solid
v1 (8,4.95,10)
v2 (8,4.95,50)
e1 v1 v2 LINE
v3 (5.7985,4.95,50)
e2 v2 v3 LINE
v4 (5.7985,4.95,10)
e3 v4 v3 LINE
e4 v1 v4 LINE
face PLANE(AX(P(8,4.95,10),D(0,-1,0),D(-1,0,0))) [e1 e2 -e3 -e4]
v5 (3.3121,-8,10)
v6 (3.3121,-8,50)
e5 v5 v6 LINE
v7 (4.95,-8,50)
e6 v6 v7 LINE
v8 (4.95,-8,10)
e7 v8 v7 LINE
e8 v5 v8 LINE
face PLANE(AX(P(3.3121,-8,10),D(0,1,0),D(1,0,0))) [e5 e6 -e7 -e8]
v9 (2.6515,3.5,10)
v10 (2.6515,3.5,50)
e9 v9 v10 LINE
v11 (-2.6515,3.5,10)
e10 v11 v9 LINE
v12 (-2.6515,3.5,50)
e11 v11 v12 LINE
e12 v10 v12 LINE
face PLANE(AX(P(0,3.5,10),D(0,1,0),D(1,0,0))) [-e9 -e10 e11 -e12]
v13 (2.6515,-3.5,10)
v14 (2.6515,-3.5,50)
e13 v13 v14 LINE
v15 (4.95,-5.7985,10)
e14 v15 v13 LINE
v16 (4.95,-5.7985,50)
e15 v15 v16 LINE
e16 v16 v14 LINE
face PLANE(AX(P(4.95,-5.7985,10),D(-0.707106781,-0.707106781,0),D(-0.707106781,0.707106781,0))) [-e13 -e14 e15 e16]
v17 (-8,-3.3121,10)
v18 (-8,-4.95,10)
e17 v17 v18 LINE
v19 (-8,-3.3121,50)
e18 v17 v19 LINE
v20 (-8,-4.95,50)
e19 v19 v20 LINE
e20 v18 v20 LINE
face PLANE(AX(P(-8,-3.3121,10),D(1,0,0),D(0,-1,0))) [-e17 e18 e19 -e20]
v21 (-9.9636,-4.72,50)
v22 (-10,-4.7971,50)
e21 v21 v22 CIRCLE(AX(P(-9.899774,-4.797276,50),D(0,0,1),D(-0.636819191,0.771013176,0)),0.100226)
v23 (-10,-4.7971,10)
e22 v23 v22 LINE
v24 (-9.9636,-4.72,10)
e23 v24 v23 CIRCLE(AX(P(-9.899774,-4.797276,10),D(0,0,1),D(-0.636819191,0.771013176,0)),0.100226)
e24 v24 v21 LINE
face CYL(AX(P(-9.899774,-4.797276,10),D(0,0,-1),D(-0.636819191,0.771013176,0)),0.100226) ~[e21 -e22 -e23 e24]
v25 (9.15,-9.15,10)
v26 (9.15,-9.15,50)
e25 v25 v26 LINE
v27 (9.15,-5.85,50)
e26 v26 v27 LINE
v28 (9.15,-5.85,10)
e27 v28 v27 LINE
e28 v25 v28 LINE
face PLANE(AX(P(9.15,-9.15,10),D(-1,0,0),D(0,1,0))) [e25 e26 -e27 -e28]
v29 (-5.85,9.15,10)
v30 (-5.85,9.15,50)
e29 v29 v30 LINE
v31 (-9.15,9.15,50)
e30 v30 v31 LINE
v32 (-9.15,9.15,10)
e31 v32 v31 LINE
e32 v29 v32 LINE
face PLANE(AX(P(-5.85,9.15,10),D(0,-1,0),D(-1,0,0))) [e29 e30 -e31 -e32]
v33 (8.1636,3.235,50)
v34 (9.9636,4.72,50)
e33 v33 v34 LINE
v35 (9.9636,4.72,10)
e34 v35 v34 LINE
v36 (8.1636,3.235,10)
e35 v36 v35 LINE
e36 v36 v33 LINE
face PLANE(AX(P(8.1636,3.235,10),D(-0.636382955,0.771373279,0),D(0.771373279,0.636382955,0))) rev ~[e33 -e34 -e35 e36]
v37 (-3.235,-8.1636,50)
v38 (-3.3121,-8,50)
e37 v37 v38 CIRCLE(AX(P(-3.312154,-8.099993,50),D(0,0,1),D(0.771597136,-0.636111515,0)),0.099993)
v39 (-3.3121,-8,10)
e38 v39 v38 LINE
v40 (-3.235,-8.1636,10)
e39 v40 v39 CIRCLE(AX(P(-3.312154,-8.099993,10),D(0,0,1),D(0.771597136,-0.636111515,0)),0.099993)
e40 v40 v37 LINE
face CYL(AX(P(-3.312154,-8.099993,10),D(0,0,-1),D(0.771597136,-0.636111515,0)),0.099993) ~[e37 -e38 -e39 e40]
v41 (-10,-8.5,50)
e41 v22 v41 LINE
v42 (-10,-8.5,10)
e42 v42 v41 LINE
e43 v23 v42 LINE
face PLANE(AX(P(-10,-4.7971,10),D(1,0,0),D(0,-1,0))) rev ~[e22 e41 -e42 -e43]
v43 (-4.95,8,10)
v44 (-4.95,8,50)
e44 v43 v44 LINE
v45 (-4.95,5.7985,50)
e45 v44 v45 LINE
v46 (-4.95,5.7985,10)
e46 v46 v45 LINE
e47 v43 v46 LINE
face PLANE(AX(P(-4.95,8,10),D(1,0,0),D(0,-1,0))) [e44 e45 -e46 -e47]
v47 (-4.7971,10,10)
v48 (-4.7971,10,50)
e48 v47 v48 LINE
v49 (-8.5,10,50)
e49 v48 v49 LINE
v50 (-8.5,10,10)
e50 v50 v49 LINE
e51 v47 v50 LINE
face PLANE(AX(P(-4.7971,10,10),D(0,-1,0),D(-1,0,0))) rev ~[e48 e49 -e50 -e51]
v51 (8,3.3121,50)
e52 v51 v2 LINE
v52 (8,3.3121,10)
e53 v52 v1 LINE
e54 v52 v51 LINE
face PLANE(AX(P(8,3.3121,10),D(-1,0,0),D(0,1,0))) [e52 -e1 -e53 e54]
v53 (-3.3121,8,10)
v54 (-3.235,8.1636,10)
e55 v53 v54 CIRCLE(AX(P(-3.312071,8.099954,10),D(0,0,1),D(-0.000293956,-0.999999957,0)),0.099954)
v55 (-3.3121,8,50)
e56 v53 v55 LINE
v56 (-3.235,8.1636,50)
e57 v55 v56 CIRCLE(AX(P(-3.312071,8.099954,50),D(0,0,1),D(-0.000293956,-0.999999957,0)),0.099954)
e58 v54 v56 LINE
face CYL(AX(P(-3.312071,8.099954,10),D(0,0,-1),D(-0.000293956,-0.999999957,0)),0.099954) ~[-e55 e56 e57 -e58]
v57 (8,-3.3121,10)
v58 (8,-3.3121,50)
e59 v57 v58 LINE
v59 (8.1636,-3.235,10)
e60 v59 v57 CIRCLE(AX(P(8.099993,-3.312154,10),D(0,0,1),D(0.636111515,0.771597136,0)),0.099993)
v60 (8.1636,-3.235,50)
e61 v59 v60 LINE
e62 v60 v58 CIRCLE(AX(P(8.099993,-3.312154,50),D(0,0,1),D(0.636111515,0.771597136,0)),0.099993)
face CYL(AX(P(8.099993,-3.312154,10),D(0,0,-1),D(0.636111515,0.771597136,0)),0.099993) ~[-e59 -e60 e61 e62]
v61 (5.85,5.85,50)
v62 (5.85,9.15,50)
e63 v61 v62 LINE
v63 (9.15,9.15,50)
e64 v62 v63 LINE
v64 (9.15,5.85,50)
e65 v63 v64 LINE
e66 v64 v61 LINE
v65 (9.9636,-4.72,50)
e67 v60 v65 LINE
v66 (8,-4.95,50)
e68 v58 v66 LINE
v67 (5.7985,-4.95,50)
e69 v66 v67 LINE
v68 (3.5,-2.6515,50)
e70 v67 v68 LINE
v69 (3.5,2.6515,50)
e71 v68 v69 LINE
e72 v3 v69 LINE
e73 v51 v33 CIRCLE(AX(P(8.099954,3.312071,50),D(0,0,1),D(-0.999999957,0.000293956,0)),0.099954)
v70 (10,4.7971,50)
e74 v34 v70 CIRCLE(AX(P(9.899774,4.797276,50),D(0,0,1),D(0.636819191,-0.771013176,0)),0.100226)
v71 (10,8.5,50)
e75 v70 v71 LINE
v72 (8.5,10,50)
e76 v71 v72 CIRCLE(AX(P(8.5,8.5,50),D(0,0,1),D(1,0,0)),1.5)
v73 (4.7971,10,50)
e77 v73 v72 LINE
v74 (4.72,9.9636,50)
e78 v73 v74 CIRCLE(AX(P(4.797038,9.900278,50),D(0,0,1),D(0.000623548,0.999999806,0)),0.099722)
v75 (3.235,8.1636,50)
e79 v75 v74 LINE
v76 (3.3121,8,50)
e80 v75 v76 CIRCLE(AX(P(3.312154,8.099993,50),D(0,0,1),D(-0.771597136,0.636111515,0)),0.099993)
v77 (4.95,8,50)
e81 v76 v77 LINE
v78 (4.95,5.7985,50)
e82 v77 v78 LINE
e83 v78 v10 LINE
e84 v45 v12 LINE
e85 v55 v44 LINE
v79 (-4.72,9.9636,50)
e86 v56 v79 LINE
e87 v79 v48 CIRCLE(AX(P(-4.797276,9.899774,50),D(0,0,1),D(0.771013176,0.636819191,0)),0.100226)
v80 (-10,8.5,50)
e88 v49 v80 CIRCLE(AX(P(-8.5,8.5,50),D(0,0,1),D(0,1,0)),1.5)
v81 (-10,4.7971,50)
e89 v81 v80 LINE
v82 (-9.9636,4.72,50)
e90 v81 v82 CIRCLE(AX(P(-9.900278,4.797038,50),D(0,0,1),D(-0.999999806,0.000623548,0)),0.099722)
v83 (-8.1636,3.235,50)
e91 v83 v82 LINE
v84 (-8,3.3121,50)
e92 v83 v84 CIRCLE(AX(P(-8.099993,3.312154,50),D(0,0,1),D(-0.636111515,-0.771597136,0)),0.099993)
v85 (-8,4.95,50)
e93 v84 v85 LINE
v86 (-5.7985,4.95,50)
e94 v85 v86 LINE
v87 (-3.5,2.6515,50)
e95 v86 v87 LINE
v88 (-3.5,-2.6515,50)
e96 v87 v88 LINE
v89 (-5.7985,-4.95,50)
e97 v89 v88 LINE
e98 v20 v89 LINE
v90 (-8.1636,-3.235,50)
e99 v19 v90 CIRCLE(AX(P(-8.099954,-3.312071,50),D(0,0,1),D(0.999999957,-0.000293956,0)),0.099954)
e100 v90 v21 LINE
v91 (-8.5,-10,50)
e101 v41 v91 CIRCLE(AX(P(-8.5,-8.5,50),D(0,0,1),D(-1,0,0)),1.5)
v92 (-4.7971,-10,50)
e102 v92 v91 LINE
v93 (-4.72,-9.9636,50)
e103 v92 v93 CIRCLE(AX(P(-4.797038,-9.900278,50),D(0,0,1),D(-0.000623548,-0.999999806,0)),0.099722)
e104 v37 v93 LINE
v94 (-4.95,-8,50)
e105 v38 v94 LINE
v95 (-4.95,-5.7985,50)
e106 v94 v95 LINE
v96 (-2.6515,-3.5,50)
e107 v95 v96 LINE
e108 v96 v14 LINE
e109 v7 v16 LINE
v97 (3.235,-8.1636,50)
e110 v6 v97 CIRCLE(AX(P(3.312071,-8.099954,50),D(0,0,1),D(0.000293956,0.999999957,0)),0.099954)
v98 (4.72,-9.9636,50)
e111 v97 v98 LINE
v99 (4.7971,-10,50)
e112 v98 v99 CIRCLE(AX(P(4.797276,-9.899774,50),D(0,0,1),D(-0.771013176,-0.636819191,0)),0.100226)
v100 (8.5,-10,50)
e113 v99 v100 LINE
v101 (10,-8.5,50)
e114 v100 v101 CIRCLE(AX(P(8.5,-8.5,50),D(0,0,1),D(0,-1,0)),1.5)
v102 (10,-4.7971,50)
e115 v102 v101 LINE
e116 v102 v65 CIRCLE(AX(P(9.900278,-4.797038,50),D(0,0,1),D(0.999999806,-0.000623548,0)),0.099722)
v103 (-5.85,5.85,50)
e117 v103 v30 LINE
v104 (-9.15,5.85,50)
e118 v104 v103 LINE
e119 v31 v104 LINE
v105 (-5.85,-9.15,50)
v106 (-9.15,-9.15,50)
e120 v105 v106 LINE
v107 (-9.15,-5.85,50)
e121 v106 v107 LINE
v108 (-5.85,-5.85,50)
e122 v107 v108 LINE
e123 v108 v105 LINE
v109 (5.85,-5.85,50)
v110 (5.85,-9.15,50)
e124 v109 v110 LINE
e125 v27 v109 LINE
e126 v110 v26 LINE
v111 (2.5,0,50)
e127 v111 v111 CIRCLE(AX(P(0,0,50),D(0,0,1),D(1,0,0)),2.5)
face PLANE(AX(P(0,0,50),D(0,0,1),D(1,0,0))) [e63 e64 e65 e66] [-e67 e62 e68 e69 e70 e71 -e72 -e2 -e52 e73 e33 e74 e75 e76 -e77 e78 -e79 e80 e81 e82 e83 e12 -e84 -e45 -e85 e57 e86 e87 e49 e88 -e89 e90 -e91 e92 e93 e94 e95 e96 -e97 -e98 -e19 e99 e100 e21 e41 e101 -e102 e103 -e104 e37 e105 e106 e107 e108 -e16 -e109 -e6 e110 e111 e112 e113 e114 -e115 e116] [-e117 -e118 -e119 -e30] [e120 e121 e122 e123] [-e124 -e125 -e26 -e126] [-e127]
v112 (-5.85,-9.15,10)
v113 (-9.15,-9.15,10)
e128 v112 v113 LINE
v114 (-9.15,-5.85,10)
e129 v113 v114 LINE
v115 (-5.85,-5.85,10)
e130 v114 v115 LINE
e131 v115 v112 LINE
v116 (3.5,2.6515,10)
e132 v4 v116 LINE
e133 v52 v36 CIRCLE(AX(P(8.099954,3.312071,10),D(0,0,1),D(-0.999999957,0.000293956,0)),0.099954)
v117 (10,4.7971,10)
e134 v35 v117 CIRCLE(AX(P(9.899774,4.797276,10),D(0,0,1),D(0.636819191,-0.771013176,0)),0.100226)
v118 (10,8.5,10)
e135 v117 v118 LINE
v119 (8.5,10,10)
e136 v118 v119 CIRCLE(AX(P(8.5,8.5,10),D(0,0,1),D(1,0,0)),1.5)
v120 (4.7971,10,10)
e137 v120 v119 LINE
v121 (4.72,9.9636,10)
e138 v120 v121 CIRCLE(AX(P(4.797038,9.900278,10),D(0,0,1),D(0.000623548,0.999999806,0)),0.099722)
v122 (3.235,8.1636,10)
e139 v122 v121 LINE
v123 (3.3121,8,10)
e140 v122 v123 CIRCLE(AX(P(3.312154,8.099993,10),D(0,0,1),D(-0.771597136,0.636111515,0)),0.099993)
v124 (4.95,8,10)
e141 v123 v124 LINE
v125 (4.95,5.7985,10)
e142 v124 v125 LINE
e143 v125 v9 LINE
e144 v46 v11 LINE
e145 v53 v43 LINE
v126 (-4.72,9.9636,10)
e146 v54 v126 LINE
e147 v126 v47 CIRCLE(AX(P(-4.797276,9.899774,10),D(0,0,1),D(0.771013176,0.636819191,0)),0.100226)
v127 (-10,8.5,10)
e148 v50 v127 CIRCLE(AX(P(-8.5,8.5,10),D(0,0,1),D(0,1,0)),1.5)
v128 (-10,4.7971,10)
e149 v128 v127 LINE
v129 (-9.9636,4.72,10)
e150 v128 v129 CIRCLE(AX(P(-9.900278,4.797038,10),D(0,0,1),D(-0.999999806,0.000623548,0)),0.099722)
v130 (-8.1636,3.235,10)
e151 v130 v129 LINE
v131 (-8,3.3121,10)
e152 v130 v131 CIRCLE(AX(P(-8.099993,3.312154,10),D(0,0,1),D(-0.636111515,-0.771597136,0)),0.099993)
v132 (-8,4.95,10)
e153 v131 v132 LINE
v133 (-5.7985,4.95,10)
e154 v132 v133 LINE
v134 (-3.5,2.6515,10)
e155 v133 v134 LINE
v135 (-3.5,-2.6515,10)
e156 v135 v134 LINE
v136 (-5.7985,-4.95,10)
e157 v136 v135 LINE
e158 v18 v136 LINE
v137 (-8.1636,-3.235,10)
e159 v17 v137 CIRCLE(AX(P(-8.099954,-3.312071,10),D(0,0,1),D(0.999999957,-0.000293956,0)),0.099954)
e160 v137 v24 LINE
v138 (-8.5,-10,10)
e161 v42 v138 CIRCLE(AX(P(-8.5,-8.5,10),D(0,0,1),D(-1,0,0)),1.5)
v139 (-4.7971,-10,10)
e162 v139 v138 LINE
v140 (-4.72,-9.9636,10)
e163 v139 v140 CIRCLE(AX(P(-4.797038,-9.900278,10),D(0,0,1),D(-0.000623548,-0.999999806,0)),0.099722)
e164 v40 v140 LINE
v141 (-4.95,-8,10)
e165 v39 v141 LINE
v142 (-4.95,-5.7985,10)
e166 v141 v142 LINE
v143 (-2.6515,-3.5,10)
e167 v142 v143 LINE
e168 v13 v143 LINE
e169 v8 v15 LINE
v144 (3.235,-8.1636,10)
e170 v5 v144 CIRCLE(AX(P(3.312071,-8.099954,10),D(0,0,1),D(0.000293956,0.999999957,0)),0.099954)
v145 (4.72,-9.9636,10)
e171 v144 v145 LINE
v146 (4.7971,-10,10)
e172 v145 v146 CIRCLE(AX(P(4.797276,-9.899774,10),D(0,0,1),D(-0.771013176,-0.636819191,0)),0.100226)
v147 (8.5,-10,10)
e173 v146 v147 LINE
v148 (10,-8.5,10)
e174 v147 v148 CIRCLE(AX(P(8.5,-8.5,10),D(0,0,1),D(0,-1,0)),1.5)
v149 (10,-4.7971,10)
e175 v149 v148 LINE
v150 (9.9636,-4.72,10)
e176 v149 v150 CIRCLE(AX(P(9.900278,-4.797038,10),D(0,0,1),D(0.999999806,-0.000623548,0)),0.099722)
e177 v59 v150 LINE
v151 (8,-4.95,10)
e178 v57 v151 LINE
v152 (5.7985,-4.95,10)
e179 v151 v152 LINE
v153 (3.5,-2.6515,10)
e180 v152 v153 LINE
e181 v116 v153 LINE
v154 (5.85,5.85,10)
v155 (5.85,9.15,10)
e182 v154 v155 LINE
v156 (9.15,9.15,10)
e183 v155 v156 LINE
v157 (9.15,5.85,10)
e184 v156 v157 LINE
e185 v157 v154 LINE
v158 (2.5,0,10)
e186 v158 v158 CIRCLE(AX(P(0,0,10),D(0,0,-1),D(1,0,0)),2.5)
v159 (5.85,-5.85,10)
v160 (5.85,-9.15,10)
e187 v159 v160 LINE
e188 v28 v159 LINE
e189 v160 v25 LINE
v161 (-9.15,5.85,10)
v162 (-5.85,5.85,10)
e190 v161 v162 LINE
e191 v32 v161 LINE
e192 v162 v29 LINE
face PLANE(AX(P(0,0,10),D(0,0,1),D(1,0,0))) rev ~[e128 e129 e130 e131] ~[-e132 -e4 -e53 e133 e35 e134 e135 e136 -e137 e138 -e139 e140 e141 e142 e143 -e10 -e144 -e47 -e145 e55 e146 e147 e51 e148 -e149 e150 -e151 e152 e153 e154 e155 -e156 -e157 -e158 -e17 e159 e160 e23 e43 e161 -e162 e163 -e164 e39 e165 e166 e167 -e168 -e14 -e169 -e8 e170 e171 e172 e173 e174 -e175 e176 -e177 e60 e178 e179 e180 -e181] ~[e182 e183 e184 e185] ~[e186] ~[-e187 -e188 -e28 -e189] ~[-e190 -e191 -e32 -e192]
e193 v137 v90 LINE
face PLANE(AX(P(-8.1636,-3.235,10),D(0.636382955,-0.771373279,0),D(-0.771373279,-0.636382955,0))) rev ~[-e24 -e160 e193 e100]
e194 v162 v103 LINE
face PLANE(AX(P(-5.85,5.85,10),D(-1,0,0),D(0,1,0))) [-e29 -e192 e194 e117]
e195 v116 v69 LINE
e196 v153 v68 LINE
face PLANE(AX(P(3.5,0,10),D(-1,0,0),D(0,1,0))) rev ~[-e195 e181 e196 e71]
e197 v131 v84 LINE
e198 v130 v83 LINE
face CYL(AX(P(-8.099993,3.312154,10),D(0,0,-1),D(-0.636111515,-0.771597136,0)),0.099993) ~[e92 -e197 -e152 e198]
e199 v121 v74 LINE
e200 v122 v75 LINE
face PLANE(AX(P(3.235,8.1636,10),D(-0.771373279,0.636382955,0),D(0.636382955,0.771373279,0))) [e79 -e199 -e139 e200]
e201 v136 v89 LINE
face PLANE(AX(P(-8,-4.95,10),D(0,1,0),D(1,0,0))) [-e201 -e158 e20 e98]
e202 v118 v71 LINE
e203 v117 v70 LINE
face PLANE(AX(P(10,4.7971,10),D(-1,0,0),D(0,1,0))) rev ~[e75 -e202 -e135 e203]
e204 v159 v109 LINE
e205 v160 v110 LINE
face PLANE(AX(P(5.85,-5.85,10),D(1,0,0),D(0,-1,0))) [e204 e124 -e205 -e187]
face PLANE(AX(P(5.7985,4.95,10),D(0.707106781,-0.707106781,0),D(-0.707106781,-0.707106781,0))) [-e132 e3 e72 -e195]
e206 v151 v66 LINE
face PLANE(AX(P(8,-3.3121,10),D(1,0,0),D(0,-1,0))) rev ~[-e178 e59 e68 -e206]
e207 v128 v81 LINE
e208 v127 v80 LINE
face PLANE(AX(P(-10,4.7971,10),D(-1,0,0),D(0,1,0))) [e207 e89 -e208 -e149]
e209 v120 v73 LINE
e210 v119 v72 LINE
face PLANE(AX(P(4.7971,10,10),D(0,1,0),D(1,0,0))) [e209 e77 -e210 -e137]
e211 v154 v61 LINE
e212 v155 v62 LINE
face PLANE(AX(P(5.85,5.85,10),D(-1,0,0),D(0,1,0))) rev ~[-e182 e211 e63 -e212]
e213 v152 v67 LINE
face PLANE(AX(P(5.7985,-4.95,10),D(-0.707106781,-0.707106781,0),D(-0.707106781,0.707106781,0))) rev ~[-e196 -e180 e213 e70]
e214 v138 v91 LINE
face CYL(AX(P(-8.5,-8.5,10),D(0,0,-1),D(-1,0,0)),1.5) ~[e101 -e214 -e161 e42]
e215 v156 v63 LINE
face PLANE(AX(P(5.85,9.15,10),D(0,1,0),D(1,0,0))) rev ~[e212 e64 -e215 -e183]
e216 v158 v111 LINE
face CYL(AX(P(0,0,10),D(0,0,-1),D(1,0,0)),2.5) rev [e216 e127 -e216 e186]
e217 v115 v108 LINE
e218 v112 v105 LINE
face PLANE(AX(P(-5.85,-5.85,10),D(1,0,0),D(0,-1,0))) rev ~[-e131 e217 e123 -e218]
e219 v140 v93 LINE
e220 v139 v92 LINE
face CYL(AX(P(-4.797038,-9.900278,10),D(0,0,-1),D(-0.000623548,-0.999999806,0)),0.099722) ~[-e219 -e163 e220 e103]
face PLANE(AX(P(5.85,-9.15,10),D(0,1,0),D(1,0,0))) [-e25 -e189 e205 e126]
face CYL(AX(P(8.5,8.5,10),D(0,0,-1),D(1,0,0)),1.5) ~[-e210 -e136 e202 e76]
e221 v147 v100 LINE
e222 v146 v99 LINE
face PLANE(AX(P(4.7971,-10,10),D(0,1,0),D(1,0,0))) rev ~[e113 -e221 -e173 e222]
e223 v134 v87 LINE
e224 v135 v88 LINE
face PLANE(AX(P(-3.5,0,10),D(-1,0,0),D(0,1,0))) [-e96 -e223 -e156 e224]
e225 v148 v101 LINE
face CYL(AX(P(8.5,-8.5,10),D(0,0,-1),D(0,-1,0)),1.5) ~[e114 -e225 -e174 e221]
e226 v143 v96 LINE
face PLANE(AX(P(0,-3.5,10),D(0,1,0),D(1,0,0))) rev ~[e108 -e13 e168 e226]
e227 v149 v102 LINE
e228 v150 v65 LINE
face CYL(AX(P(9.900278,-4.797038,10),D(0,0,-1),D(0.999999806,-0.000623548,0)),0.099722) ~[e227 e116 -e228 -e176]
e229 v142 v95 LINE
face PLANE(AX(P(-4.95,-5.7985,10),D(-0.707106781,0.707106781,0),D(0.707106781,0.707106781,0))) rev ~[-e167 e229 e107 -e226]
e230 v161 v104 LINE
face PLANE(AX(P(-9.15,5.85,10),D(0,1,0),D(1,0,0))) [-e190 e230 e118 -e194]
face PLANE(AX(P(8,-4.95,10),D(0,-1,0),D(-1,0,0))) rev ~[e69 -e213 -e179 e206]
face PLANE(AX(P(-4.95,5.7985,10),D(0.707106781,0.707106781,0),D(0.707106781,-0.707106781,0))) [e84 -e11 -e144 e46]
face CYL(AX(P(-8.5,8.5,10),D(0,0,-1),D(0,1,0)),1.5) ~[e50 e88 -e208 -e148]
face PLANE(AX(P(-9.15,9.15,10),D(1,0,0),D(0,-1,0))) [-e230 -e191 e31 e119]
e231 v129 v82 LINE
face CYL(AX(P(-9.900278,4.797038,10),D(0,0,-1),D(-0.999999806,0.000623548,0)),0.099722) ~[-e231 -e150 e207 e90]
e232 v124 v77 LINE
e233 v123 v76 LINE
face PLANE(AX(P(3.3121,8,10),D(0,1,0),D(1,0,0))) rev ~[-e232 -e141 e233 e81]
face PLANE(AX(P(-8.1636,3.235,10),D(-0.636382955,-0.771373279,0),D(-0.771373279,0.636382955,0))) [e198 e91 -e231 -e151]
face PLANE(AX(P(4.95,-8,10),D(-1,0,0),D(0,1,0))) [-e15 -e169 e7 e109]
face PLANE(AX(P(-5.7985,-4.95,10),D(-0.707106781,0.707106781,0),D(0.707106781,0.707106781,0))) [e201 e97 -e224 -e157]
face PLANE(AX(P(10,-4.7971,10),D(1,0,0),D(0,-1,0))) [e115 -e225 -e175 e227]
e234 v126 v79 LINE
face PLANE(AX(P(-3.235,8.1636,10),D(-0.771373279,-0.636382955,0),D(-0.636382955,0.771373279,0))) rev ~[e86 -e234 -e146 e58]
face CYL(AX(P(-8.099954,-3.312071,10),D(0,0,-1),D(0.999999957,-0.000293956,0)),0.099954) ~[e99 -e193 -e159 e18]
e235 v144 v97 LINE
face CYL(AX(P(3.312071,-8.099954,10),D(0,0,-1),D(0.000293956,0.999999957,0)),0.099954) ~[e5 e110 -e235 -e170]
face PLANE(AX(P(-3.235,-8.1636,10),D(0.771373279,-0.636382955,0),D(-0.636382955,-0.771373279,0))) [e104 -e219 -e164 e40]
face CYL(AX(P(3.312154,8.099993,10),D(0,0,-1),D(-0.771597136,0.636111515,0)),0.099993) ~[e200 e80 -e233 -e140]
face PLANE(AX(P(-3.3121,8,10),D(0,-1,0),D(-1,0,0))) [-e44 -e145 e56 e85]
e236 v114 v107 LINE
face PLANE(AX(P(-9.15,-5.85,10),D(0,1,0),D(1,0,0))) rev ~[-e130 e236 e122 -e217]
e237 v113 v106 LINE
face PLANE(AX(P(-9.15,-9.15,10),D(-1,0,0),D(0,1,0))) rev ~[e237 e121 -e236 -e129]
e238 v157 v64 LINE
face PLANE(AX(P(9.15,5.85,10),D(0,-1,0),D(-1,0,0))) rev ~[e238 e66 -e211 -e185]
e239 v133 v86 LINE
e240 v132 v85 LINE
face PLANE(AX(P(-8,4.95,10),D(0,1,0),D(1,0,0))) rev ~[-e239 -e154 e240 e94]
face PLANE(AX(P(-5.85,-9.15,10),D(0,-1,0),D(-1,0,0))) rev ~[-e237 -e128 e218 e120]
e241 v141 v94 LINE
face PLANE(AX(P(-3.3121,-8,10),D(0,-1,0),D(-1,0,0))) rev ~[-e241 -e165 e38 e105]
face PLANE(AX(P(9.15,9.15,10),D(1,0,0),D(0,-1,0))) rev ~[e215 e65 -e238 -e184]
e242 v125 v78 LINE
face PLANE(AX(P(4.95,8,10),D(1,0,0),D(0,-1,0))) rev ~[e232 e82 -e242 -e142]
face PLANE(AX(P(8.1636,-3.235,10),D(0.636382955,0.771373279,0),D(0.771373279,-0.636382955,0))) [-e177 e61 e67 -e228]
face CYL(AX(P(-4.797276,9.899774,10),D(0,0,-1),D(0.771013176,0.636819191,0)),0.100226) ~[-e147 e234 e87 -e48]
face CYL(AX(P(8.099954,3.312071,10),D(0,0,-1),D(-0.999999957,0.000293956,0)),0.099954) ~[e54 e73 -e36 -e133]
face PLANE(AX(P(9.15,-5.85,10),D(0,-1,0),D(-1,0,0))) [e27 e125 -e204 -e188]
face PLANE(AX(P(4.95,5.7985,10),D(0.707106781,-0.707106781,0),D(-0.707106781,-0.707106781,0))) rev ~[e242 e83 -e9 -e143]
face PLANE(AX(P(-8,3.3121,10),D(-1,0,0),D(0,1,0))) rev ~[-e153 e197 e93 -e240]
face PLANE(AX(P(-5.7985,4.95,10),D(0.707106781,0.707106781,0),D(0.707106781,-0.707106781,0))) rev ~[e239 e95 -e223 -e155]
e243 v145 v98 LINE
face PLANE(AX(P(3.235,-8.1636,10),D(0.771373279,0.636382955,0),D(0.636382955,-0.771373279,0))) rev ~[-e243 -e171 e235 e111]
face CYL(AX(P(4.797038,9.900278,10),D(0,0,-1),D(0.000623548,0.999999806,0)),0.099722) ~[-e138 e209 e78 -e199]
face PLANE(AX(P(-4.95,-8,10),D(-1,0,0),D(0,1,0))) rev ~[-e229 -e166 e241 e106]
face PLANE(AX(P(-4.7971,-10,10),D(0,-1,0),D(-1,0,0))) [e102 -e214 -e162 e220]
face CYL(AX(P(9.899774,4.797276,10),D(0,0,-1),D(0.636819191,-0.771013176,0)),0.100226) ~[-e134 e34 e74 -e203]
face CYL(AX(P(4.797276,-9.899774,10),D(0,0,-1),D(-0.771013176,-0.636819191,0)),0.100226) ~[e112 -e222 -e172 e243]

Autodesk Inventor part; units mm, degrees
ref_plane "Начальная плоскость" through (0, 0, 10) normal (0, 0, 1) x (1, 0, 0)
ref_plane "Конечная плоскость" through (0, 0, 50) normal (0, 0, 1) x (1, 0, 0)
sketch "Эскиз" plane through (0, 0, 0) normal (0, 0, 1) x (1, 0, 0)
  line L0 (-14.4349, 0) -> (14.4349, 0) projected
  line L1 (0, -14) -> (0, 14) projected
  line L2 (0, 0) -> (7.5, 7.5) construction
  circle A0 centre (7.5, 7.5) radius 1.65 construction
  line L3 (5.85, 9.15) -> (9.15, 9.15)
  line L4 (9.15, 9.15) -> (9.15, 5.85)
  line L5 (9.15, 5.85) -> (5.85, 5.85)
  line L6 (5.85, 5.85) -> (5.85, 9.15)
  line L7 (3.235, 8.1636) -> (4.72, 9.9636)
  line L8 (4.7971, 10) -> (8.5, 10)
  line L9 (3.3121, 8) -> (4.95, 8)
  line L10 (4.95, 8) -> (4.95, 5.7985)
  line L11 (4.95, 5.7985) -> (2.6515, 3.5)
  line L12 (0, 3.5) -> (2.6515, 3.5)
  circle A1 centre (0, 0) radius 2.5
  line L13 (8.1636, 3.235) -> (9.9636, 4.72)
  line L14 (10, 4.7971) -> (10, 8.5)
  line L15 (8, 3.3121) -> (8, 4.95)
  line L16 (8, 4.95) -> (5.7985, 4.95)
  line L17 (5.7985, 4.95) -> (3.5, 2.6515)
  line L18 (3.5, 0) -> (3.5, 2.6515)
  arc A2 (10, 8.5) -> (8.5, 10) centre (8.5, 8.5) ccw
  line L19 (0, 0) -> (-7.5, 7.5) construction
  circle A3 centre (-7.5, 7.5) radius 1.65 construction
  line L20 (-5.85, 9.15) -> (-9.15, 9.15)
  line L21 (-9.15, 9.15) -> (-9.15, 5.85)
  line L22 (-9.15, 5.85) -> (-5.85, 5.85)
  line L23 (-5.85, 5.85) -> (-5.85, 9.15)
  line L24 (-3.235, 8.1636) -> (-4.72, 9.9636)
  line L25 (-4.7971, 10) -> (-8.5, 10)
  line L26 (-3.3121, 8) -> (-4.95, 8)
  line L27 (-4.95, 8) -> (-4.95, 5.7985)
  line L28 (-4.95, 5.7985) -> (-2.6515, 3.5)
  line L29 (0, 3.5) -> (-2.6515, 3.5)
  line L30 (-3.5, 0) -> (-3.5, 2.6515)
  line L31 (-5.7985, 4.95) -> (-3.5, 2.6515)
  line L32 (-8, 4.95) -> (-5.7985, 4.95)
  line L33 (-8, 3.3121) -> (-8, 4.95)
  line L34 (-8.1636, 3.235) -> (-9.9636, 4.72)
  line L35 (-10, 4.7971) -> (-10, 8.5)
  arc A4 (-8.5, 10) -> (-10, 8.5) centre (-8.5, 8.5) ccw
  line L36 (0, 14) -> (0, -14)
  line L37 (0, 0) -> (7.5, -7.5) construction
  circle A5 centre (7.5, -7.5) radius 1.65 construction
  line L38 (5.85, -9.15) -> (9.15, -9.15)
  line L39 (9.15, -9.15) -> (9.15, -5.85)
  line L40 (9.15, -5.85) -> (5.85, -5.85)
  line L41 (5.85, -5.85) -> (5.85, -9.15)
  line L42 (3.235, -8.1636) -> (4.72, -9.9636)
  line L43 (4.7971, -10) -> (8.5, -10)
  line L44 (3.3121, -8) -> (4.95, -8)
  line L45 (4.95, -8) -> (4.95, -5.7985)
  line L46 (4.95, -5.7985) -> (2.6515, -3.5)
  line L47 (0, -3.5) -> (2.6515, -3.5)
  line L48 (3.5, 0) -> (3.5, -2.6515)
  line L49 (5.7985, -4.95) -> (3.5, -2.6515)
  line L50 (8, -4.95) -> (5.7985, -4.95)
  line L51 (8, -3.3121) -> (8, -4.95)
  line L52 (8.1636, -3.235) -> (9.9636, -4.72)
  line L53 (10, -4.7971) -> (10, -8.5)
  arc A6 (8.5, -10) -> (10, -8.5) centre (8.5, -8.5) ccw
  line L54 (0, 0) -> (-7.5, -7.5) construction
  line L55 (-4.95, -8) -> (-4.95, -5.7985)
  line L56 (-3.3121, -8) -> (-4.95, -8)
  line L57 (-5.7985, -4.95) -> (-3.5, -2.6515)
  line L58 (-4.95, -5.7985) -> (-2.6515, -3.5)
  line L59 (-3.5, 0) -> (-3.5, -2.6515)
  line L60 (0, -3.5) -> (-2.6515, -3.5)
  circle A7 centre (-7.5, -7.5) radius 1.65 construction
  line L61 (-5.85, -5.85) -> (-5.85, -9.15)
  line L62 (-5.85, -9.15) -> (-9.15, -9.15)
  line L63 (-9.15, -9.15) -> (-9.15, -5.85)
  line L64 (-9.15, -5.85) -> (-5.85, -5.85)
  line L65 (-3.235, -8.1636) -> (-4.72, -9.9636)
  line L66 (-8, -4.95) -> (-5.7985, -4.95)
  line L67 (-8, -3.3121) -> (-8, -4.95)
  line L68 (-8.1636, -3.235) -> (-9.9636, -4.72)
  line L69 (-4.7971, -10) -> (-8.5, -10)
  line L70 (-10, -4.7971) -> (-10, -8.5)
  arc A8 (-10, -8.5) -> (-8.5, -10) centre (-8.5, -8.5) ccw
  arc A9 (3.235, 8.1636) -> (3.3121, 8) centre (3.3121, 8.1) ccw
  arc A10 (4.7971, 10) -> (4.72, 9.9636) centre (4.7971, 9.9) ccw
  arc A11 (8, 3.3121) -> (8.1636, 3.235) centre (8.1, 3.3121) ccw
  arc A12 (9.9636, 4.72) -> (10, 4.7971) centre (9.9, 4.7971) ccw
  arc A13 (-3.3121, 8) -> (-3.235, 8.1636) centre (-3.3121, 8.1) ccw
  arc A14 (-4.72, 9.9636) -> (-4.7971, 10) centre (-4.7971, 9.9) ccw
  arc A15 (-8.1636, 3.235) -> (-8, 3.3121) centre (-8.1, 3.3121) ccw
  arc A16 (-10, 4.7971) -> (-9.9636, 4.72) centre (-9.9, 4.7971) ccw
  arc A17 (-8, -3.3121) -> (-8.1636, -3.235) centre (-8.1, -3.3121) ccw
  arc A18 (-9.9636, -4.72) -> (-10, -4.7971) centre (-9.9, -4.7971) ccw
  arc A19 (-3.235, -8.1636) -> (-3.3121, -8) centre (-3.3121, -8.1) ccw
  arc A20 (-4.7971, -10) -> (-4.72, -9.9636) centre (-4.7971, -9.9) ccw
  arc A21 (4.72, -9.9636) -> (4.7971, -10) centre (4.7971, -9.9) ccw
  arc A22 (3.3121, -8) -> (3.235, -8.1636) centre (3.3121, -8.1) ccw
  arc A23 (8.1636, -3.235) -> (8, -3.3121) centre (8.1, -3.3121) ccw
  arc A24 (10, -4.7971) -> (9.9636, -4.72) centre (9.9, -4.7971) ccw
  point P0 (3.1, 8)
  point P1 (4.75, 10)
  point P2 (7.5, 9.15)
  point P3 (8, 3.1)
  point P4 (10, 4.75)
  point P5 (7.5, 5.85)
  point P6 (9.15, 7.5)
  point P7 (-3.1, 8)
  point P8 (-4.75, 10)
  point P9 (-7.5, 9.15)
  point P10 (-8, 3.1)
  point P11 (-10, 4.75)
  point P12 (-7.5, 5.85)
  point P13 (-9.15, 7.5)
  point P14 (3.1, -8)
  point P15 (4.75, -10)
  point P16 (7.5, -9.15)
  point P17 (8, -3.1)
  point P18 (10, -4.75)
  point P19 (7.5, -5.85)
  point P20 (9.15, -7.5)
  point P21 (-3.1, -8)
  point P22 (-7.5, -5.85)
  point P23 (-7.5, -9.15)
  point P24 (-9.15, -7.5)
  point P25 (-4.75, -10)
  point P26 (-8, -3.1)
  point P27 (-10, -4.75)
  dimension "d0" = 45
  dimension "d1" = 3.3
  dimension "d2" = 1.5
  dimension "d3" = 1.2
  dimension "d4" = 5
  dimension "d5" = 6.5
  dimension "d6" = 15
  dimension "d7" = 20
  dimension "d8" = 9.9
  dimension "d9" = 9.5
  dimension "d10" = 6.2
  dimension "d11" = 2
  dimension "d18" = 0.1
  dimension "d19" = 0.1
extrude "Тело" add sketch "Эскиз" along normal up to surface (40 mm away) from surface at 10 contours A1 L1 L12 L11 L10 L9 A9 L7 A10 L8 A2 L14 A12 L13 A11 L15 L16 L17 L18 L0 | L0 L48 L49 L50 L51 A23 L52 A24 L53 A6 L43 A21 L42 A22 L44 L45 L46 L47 L1 A1 | A1 L0 L30 L31 L32 L33 A15 L34 A16 L35 A4 L25 A14 L24 A13 L26 L27 L28 L29 L1 | L1 L60 L58 L55 L56 A19 L65 A20 L69 A8 L70 A18 L68 A17 L67 L66 L57 L59 L0 A1
sketch "Эскиз2" plane through (0, 0, 0) normal (0, 0, 1) x (1, 0, 0)
  line L0 (0, 0) -> (10, 0)
ref_plane "РабПлоскость3" through (0, 0, 0) normal (0, -1, 0) x (1, 0, 0)
sketch "Эскиз3" plane through (0, 0, 0) normal (0, -1, 0) x (1, 0, 0)
  line L0 (-2, 10) -> (12, 10)
  line L1 (-2, 50) -> (12, 50)
  dimension "d25" = 40
ref_plane "РабПлоскость4" through (-300, 0, 10) normal (0, 0, -1) x (-1, 0, 0)
split "Разделение1" plane through (-300, 0, 10) removes the side toward (0, 0, -1)
ref_plane "РабПлоскость5" through (-300, 0, 50) normal (0, 0, 1) x (1, 0, 0)
split "Разделение2" plane through (-300, 0, 50) removes the side toward (0, 0, 1)
ref_plane "РабПлоскость6" through (0, -10, 70) normal (0, 0, 1) x (1, 0, 0)
split "Разделение3" plane through (0, -10, 70) removes the side toward (0, 0, 1)
properties part number "короткая палка" material "Алюминий 6061"
